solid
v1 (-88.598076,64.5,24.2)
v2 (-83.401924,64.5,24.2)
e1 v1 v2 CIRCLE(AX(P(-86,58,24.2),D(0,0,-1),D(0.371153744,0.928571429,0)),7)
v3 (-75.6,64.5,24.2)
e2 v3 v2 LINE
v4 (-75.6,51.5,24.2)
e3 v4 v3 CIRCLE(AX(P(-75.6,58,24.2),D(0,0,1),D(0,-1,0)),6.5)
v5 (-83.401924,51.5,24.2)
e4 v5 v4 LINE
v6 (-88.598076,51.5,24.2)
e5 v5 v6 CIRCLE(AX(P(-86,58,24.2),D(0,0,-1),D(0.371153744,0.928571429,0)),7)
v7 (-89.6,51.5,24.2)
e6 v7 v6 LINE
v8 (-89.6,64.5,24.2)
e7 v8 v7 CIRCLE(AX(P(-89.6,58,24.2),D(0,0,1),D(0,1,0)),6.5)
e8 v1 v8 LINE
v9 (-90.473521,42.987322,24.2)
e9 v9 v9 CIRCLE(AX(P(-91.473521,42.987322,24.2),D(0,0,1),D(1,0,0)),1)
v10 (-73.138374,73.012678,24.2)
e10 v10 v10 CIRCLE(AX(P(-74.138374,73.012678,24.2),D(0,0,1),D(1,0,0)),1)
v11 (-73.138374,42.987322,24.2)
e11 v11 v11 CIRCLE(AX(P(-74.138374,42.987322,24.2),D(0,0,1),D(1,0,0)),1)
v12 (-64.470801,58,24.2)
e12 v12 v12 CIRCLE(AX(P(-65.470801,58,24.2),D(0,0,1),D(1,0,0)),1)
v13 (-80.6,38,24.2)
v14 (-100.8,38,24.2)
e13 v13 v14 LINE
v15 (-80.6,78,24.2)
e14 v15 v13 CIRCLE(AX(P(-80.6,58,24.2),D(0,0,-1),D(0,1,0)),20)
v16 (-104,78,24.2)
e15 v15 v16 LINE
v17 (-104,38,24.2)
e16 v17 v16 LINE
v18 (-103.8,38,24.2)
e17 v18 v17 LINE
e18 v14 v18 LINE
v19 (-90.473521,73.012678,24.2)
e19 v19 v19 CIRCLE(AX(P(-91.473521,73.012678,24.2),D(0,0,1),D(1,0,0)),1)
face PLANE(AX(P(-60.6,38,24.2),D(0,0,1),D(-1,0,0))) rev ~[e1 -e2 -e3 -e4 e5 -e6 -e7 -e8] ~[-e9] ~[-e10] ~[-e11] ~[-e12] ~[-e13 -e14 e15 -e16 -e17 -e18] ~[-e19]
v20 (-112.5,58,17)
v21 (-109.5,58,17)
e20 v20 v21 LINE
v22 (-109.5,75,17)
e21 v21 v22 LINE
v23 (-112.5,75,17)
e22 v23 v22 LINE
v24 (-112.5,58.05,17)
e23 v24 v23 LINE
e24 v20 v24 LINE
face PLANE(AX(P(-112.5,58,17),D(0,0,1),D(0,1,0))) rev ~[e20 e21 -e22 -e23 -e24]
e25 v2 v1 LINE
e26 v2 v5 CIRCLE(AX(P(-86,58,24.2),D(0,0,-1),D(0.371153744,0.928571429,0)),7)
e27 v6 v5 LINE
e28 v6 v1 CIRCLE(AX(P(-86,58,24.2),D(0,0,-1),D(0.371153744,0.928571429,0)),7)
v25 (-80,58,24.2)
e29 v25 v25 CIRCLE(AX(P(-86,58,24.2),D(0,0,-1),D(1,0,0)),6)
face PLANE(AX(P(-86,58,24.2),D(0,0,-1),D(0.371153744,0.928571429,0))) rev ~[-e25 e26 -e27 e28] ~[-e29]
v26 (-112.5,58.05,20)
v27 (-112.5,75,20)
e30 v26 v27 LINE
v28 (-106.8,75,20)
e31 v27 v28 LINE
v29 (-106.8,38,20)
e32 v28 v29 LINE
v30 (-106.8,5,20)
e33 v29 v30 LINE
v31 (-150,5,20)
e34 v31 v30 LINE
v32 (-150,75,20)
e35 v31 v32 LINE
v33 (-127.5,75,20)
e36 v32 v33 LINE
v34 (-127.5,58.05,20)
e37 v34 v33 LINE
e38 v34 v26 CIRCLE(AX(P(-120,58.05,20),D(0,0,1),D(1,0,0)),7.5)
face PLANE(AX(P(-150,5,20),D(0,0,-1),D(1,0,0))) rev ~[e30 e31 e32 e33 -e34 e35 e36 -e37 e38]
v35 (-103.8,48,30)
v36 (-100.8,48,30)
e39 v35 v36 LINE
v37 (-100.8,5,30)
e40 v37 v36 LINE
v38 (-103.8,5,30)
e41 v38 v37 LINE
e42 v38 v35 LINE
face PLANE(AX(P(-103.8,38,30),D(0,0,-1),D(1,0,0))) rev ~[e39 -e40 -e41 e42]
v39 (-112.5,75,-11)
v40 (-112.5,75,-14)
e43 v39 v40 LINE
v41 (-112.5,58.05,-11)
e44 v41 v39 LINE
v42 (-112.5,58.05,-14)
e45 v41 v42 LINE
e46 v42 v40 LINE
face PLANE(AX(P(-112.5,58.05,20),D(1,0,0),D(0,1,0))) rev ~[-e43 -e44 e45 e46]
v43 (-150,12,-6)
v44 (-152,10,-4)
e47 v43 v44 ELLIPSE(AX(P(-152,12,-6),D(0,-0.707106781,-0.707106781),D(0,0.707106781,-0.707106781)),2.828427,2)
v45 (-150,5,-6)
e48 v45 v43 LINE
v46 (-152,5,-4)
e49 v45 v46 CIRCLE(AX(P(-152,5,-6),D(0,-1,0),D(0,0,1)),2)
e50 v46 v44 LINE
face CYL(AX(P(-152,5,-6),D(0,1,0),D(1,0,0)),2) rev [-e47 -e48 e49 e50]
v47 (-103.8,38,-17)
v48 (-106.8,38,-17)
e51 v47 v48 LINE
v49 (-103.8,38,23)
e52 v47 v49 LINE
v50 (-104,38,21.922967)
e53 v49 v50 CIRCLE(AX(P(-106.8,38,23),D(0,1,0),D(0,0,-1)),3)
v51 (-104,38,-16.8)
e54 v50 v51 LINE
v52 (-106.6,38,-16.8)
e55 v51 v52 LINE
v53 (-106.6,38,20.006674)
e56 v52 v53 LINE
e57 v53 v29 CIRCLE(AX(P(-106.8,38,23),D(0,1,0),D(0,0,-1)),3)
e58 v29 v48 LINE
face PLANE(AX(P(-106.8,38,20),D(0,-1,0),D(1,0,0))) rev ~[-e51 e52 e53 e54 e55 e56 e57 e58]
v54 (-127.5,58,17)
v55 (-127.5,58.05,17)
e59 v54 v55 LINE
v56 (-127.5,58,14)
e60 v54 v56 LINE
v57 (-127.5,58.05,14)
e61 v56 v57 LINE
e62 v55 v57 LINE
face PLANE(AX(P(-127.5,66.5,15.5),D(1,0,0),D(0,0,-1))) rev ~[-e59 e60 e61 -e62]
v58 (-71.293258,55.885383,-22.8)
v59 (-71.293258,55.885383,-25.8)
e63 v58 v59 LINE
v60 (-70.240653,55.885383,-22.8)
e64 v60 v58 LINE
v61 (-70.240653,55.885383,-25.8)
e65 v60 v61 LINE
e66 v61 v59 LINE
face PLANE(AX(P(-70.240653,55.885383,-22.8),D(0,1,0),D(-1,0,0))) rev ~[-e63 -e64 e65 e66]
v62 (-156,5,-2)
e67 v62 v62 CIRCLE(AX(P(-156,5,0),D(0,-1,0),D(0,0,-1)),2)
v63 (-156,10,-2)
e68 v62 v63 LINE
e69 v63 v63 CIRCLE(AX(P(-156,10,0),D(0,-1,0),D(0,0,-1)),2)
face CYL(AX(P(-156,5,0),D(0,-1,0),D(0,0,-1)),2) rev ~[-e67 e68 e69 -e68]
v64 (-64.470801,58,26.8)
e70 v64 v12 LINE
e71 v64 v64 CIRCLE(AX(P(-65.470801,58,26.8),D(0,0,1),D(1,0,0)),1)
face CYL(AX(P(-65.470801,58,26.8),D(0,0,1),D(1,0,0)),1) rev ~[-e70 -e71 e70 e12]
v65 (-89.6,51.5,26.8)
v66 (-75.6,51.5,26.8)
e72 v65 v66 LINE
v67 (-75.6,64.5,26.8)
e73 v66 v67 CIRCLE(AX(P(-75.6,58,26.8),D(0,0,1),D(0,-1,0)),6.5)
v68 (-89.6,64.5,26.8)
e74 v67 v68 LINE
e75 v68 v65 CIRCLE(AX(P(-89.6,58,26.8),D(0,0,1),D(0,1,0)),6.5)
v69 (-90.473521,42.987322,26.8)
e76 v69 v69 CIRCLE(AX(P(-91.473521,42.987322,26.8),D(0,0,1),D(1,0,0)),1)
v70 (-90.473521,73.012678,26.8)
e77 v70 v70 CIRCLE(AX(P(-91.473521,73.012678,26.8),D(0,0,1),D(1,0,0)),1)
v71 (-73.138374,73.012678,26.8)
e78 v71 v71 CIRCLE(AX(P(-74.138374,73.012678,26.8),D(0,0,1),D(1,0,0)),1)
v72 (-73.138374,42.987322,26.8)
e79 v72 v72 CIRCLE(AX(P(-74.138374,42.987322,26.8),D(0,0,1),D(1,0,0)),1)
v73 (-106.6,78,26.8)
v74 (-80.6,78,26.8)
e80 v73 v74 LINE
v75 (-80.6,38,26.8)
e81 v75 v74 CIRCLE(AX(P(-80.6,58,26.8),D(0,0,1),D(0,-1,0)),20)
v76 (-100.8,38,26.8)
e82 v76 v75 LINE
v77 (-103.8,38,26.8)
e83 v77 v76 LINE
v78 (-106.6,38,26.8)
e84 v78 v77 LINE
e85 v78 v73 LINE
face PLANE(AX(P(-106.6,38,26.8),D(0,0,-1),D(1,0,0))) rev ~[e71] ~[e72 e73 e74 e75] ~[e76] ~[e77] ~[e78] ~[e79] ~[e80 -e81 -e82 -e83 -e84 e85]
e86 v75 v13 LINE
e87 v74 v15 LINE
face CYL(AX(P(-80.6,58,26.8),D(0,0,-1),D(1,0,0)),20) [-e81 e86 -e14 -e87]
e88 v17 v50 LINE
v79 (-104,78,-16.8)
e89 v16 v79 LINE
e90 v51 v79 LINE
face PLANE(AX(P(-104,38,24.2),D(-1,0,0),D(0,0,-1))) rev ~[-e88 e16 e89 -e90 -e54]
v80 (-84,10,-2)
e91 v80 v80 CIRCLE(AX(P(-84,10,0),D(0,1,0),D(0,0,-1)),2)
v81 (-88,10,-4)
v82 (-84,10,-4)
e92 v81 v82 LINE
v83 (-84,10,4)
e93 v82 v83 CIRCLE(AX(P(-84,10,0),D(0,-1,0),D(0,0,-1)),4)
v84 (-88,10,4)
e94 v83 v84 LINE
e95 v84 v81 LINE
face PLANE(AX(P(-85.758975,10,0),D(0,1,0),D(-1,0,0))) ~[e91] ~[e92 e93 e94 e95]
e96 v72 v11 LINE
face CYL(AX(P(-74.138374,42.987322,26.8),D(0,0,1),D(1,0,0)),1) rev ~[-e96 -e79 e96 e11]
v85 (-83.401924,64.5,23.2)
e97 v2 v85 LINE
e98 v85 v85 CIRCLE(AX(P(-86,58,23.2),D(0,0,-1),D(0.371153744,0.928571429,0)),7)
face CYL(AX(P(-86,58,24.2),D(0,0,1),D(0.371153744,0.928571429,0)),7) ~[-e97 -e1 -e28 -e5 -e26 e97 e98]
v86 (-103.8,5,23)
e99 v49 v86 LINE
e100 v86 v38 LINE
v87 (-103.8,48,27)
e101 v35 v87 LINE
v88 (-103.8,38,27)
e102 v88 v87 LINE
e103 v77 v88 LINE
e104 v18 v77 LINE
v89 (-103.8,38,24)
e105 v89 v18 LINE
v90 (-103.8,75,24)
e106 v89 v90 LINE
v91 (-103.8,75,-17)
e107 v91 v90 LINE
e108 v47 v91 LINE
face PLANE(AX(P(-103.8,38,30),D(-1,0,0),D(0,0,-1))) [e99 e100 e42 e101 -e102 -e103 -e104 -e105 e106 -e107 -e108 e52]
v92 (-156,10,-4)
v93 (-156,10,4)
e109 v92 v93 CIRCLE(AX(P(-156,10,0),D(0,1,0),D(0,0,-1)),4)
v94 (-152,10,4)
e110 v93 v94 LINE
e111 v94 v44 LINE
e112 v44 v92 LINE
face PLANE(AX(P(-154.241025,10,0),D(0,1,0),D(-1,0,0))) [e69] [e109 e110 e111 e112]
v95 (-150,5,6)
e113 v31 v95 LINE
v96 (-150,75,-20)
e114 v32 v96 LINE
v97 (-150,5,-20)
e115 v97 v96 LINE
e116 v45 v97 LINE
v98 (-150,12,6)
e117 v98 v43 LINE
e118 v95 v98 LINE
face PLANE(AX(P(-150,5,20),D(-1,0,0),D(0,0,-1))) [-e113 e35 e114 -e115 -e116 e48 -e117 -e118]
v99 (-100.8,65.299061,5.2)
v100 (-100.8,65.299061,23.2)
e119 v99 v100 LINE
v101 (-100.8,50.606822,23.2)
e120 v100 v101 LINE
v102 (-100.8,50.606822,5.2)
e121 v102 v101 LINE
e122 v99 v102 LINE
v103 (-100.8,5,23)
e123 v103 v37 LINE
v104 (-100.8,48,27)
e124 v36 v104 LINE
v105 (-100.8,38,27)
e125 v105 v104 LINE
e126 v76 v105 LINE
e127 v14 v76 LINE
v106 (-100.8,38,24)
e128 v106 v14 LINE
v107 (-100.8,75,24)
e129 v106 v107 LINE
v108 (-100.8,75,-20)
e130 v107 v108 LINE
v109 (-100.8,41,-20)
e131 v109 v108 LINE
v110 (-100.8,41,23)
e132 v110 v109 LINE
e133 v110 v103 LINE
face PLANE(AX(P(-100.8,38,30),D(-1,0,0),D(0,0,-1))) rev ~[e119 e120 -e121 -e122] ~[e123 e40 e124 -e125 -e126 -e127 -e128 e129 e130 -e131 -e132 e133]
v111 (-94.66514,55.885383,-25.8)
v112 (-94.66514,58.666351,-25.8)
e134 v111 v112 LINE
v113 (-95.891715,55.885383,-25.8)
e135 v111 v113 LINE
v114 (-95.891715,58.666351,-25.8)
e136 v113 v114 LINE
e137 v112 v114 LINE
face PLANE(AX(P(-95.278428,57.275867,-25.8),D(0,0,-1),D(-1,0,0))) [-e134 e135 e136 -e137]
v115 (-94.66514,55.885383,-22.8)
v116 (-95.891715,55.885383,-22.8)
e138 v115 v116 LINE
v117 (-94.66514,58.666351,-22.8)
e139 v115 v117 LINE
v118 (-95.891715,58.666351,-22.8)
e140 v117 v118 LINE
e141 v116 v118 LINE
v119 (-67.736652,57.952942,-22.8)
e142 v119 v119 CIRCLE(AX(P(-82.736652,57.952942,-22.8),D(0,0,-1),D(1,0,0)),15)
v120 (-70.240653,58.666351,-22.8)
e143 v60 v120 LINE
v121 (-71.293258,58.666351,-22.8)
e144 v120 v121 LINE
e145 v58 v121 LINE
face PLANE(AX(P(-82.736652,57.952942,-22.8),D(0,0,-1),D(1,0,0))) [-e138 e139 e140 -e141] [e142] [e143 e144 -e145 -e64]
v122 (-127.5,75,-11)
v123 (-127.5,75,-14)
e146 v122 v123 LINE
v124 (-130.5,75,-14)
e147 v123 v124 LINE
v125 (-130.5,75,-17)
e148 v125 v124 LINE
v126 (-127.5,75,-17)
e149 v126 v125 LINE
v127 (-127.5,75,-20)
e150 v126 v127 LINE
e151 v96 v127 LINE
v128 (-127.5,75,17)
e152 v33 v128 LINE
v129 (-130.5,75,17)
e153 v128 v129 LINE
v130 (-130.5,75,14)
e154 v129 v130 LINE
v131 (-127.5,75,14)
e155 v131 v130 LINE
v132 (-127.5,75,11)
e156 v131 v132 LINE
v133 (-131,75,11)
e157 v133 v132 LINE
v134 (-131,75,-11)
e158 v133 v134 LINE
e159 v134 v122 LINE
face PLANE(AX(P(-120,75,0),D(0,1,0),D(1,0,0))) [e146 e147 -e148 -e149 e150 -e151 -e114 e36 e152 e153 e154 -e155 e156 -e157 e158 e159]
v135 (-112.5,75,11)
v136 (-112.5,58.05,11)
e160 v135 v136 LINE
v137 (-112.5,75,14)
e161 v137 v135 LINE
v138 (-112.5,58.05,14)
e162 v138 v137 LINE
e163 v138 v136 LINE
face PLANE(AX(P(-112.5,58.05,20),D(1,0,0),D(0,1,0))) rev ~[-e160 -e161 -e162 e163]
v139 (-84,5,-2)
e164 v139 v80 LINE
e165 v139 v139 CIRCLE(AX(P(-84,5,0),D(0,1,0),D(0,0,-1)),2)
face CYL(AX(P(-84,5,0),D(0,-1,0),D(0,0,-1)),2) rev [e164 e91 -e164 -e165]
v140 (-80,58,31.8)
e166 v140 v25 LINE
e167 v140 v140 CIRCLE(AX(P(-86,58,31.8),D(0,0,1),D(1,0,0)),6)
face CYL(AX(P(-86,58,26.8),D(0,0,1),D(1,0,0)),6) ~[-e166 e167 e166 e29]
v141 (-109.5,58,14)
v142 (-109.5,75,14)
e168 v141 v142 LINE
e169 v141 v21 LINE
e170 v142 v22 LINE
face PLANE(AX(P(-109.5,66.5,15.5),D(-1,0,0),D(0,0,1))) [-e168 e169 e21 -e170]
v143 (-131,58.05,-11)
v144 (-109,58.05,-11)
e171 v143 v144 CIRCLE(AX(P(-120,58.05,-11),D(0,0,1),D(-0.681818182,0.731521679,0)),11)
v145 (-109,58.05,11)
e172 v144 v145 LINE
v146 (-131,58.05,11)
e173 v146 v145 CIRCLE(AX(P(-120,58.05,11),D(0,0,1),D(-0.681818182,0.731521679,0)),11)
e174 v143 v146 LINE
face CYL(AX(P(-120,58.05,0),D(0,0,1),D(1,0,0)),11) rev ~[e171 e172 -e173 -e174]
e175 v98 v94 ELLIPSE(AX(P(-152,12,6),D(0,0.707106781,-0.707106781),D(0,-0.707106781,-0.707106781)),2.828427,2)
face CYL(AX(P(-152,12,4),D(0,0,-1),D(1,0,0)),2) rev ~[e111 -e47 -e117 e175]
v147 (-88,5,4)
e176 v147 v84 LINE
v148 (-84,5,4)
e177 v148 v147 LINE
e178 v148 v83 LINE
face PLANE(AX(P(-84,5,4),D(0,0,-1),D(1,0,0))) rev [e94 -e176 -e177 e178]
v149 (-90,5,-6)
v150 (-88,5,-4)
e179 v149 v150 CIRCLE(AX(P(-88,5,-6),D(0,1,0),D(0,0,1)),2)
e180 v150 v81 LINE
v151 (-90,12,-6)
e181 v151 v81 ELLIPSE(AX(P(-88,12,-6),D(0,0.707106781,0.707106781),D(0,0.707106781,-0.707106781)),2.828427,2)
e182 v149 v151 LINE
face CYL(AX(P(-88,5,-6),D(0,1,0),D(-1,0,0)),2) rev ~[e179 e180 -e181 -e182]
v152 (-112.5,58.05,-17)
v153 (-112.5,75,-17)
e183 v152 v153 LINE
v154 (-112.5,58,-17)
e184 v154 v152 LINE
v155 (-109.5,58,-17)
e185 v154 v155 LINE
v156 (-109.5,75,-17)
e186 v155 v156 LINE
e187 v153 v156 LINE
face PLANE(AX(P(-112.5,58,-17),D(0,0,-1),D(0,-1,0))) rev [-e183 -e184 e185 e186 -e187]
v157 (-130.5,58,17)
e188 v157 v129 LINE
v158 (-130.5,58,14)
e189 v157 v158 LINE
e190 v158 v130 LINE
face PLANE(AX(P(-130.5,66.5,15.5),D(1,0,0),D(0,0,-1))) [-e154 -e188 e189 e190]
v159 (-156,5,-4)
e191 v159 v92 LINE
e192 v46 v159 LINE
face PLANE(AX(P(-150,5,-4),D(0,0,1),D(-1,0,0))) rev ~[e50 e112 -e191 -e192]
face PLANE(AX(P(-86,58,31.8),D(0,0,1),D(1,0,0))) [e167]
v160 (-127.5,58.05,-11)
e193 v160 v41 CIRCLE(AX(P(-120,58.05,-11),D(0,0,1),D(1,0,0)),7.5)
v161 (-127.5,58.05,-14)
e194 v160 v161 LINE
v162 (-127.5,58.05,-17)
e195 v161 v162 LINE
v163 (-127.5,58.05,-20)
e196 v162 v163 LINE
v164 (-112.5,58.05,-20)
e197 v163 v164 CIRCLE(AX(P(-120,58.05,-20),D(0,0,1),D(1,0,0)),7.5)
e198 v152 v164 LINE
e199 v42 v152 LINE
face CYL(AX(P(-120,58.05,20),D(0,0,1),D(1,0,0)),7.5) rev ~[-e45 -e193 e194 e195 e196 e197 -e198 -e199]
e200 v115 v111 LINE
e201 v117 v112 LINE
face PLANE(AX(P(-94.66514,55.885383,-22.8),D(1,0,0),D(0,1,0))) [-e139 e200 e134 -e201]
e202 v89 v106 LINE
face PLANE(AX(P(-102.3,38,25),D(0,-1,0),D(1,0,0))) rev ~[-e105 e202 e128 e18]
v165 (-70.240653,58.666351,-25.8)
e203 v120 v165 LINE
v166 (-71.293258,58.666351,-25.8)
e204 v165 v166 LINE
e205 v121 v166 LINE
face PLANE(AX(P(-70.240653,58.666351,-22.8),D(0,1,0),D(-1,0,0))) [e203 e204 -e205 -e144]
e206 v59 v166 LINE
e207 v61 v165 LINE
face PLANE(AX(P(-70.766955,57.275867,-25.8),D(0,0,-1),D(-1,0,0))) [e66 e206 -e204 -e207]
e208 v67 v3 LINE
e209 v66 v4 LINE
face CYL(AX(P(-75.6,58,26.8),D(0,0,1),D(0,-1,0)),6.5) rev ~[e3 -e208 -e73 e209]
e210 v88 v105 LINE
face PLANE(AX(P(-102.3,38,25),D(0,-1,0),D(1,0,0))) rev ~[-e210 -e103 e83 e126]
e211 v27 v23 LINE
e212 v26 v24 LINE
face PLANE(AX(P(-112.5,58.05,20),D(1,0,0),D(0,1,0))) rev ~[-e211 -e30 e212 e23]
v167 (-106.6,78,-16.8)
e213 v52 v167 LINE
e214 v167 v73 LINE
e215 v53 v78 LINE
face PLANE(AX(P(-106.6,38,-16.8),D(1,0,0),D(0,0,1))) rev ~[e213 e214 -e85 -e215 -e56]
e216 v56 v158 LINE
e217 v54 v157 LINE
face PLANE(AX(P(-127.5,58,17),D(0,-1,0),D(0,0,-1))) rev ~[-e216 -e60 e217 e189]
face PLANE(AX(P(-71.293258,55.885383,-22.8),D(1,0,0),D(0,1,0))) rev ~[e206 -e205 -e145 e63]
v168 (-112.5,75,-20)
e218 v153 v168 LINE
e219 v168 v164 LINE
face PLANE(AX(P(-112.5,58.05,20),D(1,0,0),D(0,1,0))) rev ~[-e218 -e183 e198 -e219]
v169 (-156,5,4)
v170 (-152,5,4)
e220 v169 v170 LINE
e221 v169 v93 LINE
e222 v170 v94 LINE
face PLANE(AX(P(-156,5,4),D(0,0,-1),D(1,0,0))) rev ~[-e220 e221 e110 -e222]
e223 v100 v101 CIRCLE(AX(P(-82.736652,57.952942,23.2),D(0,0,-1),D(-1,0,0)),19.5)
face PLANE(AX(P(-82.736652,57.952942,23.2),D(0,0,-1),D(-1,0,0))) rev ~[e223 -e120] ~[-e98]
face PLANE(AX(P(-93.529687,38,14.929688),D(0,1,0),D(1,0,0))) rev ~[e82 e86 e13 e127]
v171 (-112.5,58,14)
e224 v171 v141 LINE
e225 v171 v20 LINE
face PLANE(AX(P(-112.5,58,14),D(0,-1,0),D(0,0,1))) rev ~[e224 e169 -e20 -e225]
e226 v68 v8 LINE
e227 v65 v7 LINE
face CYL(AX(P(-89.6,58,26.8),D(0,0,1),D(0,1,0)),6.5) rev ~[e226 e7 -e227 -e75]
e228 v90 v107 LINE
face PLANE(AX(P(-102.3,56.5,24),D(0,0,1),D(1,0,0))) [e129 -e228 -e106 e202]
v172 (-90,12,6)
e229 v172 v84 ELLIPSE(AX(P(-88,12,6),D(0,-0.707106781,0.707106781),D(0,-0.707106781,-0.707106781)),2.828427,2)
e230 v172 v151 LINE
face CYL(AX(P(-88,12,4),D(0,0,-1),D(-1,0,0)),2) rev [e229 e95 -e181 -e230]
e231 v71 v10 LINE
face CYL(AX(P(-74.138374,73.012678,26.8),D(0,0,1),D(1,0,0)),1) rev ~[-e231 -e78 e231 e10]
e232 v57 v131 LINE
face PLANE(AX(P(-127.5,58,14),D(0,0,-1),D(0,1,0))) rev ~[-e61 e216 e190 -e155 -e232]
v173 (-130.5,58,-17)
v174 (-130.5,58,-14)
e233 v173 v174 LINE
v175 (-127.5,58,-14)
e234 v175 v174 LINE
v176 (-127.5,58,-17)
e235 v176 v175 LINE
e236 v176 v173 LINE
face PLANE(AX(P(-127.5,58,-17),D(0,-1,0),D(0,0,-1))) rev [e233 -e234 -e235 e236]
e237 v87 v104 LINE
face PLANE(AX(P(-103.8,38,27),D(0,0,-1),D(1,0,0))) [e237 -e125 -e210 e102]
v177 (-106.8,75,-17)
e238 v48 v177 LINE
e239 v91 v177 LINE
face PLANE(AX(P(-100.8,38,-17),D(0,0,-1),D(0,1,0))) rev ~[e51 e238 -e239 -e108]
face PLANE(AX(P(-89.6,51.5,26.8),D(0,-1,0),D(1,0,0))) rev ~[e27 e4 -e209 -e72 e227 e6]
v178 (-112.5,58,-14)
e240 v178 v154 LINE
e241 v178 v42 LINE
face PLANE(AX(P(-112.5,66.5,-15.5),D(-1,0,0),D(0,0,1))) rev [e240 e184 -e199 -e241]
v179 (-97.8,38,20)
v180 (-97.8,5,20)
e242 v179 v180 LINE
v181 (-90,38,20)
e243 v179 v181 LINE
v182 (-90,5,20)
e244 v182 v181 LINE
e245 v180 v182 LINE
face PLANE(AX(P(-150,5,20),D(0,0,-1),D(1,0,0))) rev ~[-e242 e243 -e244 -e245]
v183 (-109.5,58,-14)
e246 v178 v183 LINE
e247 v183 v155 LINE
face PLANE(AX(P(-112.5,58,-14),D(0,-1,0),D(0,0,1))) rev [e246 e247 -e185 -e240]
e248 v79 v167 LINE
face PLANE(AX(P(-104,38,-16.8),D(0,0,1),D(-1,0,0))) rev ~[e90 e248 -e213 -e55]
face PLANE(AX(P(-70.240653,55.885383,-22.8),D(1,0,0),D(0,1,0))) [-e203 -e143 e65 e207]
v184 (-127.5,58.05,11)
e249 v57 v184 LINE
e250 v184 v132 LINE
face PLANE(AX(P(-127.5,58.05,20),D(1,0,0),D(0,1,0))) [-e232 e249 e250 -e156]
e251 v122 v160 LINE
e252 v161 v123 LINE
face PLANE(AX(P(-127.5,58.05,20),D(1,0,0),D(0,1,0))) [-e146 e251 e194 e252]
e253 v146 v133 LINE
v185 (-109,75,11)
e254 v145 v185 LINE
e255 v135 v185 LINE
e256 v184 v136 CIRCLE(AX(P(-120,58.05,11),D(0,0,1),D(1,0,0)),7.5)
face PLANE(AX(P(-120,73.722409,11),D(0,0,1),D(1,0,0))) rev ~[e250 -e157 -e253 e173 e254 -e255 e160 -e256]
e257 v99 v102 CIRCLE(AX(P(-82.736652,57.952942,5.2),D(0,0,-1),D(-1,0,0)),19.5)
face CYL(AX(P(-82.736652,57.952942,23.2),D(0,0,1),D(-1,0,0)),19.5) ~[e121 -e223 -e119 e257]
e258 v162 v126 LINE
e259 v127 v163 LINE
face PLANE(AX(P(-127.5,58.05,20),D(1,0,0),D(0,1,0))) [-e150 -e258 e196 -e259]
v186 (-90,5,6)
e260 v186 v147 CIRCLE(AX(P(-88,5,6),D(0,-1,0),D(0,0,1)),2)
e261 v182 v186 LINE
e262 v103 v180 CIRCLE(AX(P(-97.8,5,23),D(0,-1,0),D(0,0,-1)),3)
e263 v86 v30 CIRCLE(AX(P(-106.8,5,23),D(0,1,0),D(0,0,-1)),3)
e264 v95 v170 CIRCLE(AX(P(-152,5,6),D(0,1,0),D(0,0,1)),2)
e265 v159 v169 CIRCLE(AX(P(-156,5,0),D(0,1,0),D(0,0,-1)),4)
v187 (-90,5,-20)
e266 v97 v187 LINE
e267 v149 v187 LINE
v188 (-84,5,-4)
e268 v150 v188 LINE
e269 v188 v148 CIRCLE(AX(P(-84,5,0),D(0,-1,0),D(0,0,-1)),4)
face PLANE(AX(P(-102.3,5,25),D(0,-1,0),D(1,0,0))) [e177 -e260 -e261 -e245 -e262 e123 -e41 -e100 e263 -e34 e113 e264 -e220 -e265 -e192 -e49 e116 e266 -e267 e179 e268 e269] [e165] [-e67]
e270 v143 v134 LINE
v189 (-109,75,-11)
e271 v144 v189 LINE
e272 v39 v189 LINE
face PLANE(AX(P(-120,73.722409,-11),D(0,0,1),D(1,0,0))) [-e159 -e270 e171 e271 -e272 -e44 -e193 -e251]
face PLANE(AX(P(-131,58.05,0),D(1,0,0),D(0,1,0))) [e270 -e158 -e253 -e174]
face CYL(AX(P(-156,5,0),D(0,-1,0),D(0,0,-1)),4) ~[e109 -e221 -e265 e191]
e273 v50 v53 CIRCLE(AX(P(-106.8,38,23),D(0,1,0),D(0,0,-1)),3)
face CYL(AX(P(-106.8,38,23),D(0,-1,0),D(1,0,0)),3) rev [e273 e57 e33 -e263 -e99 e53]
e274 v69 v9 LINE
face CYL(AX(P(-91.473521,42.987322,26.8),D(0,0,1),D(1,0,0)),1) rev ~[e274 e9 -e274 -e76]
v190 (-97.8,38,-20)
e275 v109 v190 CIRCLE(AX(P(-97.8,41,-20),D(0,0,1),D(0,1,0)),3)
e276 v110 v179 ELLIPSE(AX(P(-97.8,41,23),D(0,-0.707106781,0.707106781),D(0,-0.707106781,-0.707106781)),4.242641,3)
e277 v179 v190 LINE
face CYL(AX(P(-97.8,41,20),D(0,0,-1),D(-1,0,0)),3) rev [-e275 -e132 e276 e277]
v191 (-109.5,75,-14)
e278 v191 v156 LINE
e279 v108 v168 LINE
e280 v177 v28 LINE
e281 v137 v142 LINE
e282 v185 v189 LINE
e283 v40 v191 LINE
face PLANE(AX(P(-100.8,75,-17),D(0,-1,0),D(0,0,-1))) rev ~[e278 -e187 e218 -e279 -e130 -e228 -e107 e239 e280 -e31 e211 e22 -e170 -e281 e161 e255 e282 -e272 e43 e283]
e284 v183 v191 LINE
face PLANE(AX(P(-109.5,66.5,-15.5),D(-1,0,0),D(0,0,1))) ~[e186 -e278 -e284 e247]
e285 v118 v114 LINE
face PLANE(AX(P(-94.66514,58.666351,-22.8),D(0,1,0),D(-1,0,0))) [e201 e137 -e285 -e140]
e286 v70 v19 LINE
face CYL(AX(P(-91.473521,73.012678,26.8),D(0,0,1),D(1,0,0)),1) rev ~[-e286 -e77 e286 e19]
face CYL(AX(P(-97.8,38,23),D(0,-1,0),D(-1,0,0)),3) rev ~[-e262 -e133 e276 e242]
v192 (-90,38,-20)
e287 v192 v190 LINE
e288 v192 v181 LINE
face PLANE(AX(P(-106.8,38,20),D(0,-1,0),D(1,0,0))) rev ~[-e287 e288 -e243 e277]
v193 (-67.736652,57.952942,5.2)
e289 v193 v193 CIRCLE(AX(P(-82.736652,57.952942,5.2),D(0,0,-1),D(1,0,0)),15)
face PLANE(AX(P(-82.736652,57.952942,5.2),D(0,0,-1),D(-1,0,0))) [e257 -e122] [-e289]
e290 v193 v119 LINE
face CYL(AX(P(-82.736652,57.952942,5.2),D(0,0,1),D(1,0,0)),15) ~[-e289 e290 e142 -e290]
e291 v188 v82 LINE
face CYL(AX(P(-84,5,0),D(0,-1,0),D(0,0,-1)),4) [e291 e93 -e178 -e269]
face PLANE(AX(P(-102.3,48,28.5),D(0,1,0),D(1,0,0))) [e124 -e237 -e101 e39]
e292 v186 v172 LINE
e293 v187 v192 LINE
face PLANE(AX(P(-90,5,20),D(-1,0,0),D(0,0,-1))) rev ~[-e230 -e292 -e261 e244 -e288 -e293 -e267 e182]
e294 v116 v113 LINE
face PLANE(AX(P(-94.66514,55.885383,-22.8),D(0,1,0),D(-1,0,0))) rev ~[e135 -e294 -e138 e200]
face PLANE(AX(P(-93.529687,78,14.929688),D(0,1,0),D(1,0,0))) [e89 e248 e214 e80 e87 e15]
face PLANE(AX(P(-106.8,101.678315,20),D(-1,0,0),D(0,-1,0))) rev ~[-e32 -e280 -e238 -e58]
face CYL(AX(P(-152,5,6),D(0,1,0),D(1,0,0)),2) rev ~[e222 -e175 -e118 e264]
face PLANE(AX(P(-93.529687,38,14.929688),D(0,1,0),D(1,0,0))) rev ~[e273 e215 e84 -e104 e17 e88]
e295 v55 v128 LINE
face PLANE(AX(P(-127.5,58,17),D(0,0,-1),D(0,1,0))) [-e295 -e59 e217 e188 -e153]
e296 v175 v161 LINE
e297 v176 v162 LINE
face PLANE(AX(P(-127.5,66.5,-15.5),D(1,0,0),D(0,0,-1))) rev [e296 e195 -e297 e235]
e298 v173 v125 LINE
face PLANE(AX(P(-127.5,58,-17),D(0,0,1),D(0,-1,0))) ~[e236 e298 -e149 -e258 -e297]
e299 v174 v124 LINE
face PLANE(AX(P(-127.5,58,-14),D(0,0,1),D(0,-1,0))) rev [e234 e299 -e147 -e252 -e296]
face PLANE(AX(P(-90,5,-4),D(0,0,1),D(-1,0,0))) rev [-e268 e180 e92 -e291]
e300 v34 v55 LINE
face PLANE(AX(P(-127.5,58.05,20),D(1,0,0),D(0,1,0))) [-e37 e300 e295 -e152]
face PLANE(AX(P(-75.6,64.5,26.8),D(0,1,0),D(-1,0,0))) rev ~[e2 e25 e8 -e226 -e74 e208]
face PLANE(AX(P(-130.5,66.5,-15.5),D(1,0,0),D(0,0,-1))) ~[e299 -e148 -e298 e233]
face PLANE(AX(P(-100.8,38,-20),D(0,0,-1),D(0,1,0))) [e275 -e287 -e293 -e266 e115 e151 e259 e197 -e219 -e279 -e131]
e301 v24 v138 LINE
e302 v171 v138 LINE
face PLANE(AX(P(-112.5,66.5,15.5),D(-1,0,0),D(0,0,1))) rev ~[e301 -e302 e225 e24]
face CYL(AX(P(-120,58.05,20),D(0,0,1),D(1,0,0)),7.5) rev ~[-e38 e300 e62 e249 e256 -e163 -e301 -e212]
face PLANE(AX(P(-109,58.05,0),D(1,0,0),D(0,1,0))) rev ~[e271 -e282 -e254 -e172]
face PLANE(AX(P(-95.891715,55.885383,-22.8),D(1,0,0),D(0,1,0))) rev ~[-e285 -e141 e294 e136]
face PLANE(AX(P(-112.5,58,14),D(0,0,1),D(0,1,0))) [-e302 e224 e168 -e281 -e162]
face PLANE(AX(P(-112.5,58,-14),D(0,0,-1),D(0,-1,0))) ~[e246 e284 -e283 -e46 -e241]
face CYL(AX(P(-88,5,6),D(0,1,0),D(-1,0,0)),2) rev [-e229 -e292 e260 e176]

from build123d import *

# Parameters (mm, degrees)
SKETCH1_W       = 60
SKETCH1_H       = 40
EXTRUDE1_DEPTH  = 70
EXTRUDE2_DEPTH  = 173.409396496
SKETCH5_R       = 7.5
EXTRUDE3_DEPTH  = 173.409396496
SKETCH8_R       = 11
EXTRUDE5_DEPTH  = 11
SKETCH9_W       = 15
SKETCH9_H       = 16.95
EXTRUDE6_DEPTH  = 173.409396496
SKETCH10_W      = 22
SKETCH10_H      = 31.344818361
EXTRUDE7_DEPTH  = 11
SKETCH13_W      = 3
SKETCH13_H      = 17
EXTRUDE9_DEPTH  = 3
SKETCH14_W      = 3
SKETCH14_H      = 17
EXTRUDE10_DEPTH = 3
SKETCH16_W      = 3
SKETCH16_H      = 37
EXTRUDE11_DEPTH = 41
SKETCH17_W      = 3
SKETCH17_H      = 37
EXTRUDE12_DEPTH = 6
SKETCH18_W      = 3
SKETCH18_H      = 10
EXTRUDE13_DEPTH = 33
SKETCH19_W      = 3
SKETCH19_H      = 3
EXTRUDE14_DEPTH = 10
FILLET1_R       = 3
SKETCH20_R      = 2
EXTRUDE15_DEPTH = 5
FILLET2_R       = 2
FILLET3_R       = 2
EXTRUDE16_DEPTH = 40
FILLET4_RADIUS  = 20
FILLET4_LENGTH  = 2.6
EXTRUDE17_DEPTH = 2.6
SKETCH24_R      = 1
EXTRUDE18_DEPTH = 2.6
SKETCH25_R      = 2.5
EXTRUDE19_DEPTH = 2.6
SKETCH26_R      = 6
EXTRUDE20_DEPTH = 5
SKETCH27_R      = 6
EXTRUDE21_DEPTH = 2.6
SKETCH28_R      = 7
EXTRUDE22_DEPTH = 1
SKETCH29_R      = 19.5
EXTRUDE23_DEPTH = 18
SKETCH30_R      = 15
EXTRUDE24_DEPTH = 28
SKETCH31_W      = 1.052605107
SKETCH31_H      = 2.780967683
SKETCH31_W_2    = 1.226574425
EXTRUDE25_DEPTH = 3


with BuildPart() as part:
    # Sketch1 → Extrude1 (new body)
    with BuildSketch(Plane(origin=(0, 5, 0), x_dir=(1, 0, 0), z_dir=(0, 1, 0))):
        with Locations((-120, 0)):
            Rectangle(SKETCH1_W, SKETCH1_H)
    extrude(amount=EXTRUDE1_DEPTH)

    # Sketch4 → Extrude2 (cut, through all)
    with BuildSketch(Plane.XY.offset(20)):
        Polygon((-106.8, 75), (-106.8, 38), (-69.340811885, 38), (-69.340811885, 101.678315396), (-106.8, 101.678315396), align=None)
    extrude(amount=-EXTRUDE2_DEPTH, mode=Mode.SUBTRACT)

    # Sketch5 → Extrude3 (cut, through all)
    with BuildSketch(Plane.XY.offset(20)):
        with Locations((-120, 58.05)):
            Circle(SKETCH5_R)
    extrude(amount=-EXTRUDE3_DEPTH, mode=Mode.SUBTRACT)

    # Sketch8 → Extrude5 (cut, symmetric)
    with BuildSketch(Plane.XY):
        with Locations((-120, 58.05)):
            Circle(SKETCH8_R)
    extrude(amount=EXTRUDE5_DEPTH, both=True, mode=Mode.SUBTRACT)

    # Sketch9 → Extrude6 (cut, through all)
    with BuildSketch(Plane.XY.offset(20)):
        with Locations((-120, 66.525)):
            Rectangle(SKETCH9_W, SKETCH9_H)
    extrude(amount=-EXTRUDE6_DEPTH, mode=Mode.SUBTRACT)

    # Sketch10 → Extrude7 (cut, symmetric)
    with BuildSketch(Plane.XY):
        with Locations((-120, 73.722409181)):
            Rectangle(SKETCH10_W, SKETCH10_H)
    extrude(amount=EXTRUDE7_DEPTH, both=True, mode=Mode.SUBTRACT)

    # Sketch13 → Extrude9 (cut)
    with BuildSketch(Plane(origin=(-127.5, 0, 0), x_dir=(0, 0, -1), z_dir=(1, 0, 0))):
        with Locations((-15.5, 66.5)):
            Rectangle(SKETCH13_W, SKETCH13_H)
    extrude9 = extrude(amount=-EXTRUDE9_DEPTH, mode=Mode.SUBTRACT)

    # Sketch14 → Extrude10 (cut)
    with BuildSketch(Plane.ZY.offset(112.5)):
        with Locations((15.5, 66.5)):
            Rectangle(SKETCH14_W, SKETCH14_H)
    extrude10 = extrude(amount=-EXTRUDE10_DEPTH, mode=Mode.SUBTRACT)

    # Mirror1: Extrude9, Extrude10 across plane
    add(extrude9.mirror(Plane.XY), mode=Mode.SUBTRACT)
    add(extrude10.mirror(Plane.XY), mode=Mode.SUBTRACT)

    # Sketch16 → Extrude11 (add)
    with BuildSketch(Plane.XY.offset(-17)):
        with Locations((-102.3, 56.5)):
            Rectangle(SKETCH16_W, SKETCH16_H)
    extrude(amount=EXTRUDE11_DEPTH)

    # Sketch17 → Extrude12 (add)
    with BuildSketch(Plane(origin=(-100.8, 0, 0), x_dir=(0, 0, -1), z_dir=(1, 0, 0))):
        with Locations((18.5, 56.5)):
            Rectangle(SKETCH17_W, SKETCH17_H)
    extrude(amount=-EXTRUDE12_DEPTH)

    # Sketch18 → Extrude13 (add)
    with BuildSketch(Plane.XZ.offset(-38)):
        with Locations((-102.3, 25)):
            Rectangle(SKETCH18_W, SKETCH18_H)
    extrude(amount=EXTRUDE13_DEPTH)

    # Sketch19 → Extrude14 (add)
    with BuildSketch(Plane(origin=(0, 38, 0), x_dir=(1, 0, 0), z_dir=(0, 1, 0))):
        with Locations((-102.3, -28.5)):
            Rectangle(SKETCH19_W, SKETCH19_H)
    extrude(amount=EXTRUDE14_DEPTH)

    # Fillet1
    fillet1_edges = [part.edges().sort_by_distance(p)[0] for p in [
        (-100.8, 38, 0),
        (-100.8, 21.5, 20),
        (-103.8, 21.5, 20),
    ]]
    fillet(fillet1_edges, radius=FILLET1_R)

    # Sketch20 → Extrude15 (add)
    with BuildSketch(Plane.XZ.offset(-5)):
        with BuildLine():
            Line((-156, 4), (-150, 4))
            Line((-150, 4), (-150, -4))
            Line((-150, -4), (-156, -4))
            ThreePointArc((-156, -4), (-160, 0), (-156, 4))
        make_face()
        with Locations(Location((-156, 0, 0), (0, 0, 270))):
            Circle(SKETCH20_R, mode=Mode.SUBTRACT)
    extrude15 = extrude(amount=-EXTRUDE15_DEPTH)

    # Fillet2
    fillet2_edges = [part.edges().sort_by_distance(p)[0] for p in [
        (-150, 10, 0),
        (-150, 7.5, 4),
        (-150, 7.5, -4),
    ]]
    fillet(fillet2_edges, radius=FILLET2_R)

    # Mirror7: Extrude15 across plane
    add(extrude15.mirror(Plane.ZY.offset(120)))

    # Fillet3
    fillet3_edges = [part.edges().sort_by_distance(p)[0] for p in [
        (-90, 10, 0),
        (-90, 7.5, -4),
        (-90, 7.5, 4),
    ]]
    fillet(fillet3_edges, radius=FILLET3_R)

    # Sketch21 → Extrude16 (add)
    with BuildSketch(Plane(origin=(0, 38, 0), x_dir=(1, 0, 0), z_dir=(0, 1, 0))):
        Polygon((-104, -21.450806662), (-104, 16.8), (-106.6, 16.8), (-106.6, -19.806256115), (-106.6, -26.8), (-103.6, -26.8), (-101, -26.8), (-60.6, -26.8), (-60.6, -24.2), (-101, -24.2), (-103.6, -24.2), (-104, -24.2), align=None)
    extrude(amount=EXTRUDE16_DEPTH)

    # Fillet4: full round fillet: the end face becomes a half cylinder, R = half its width
    fillet4_face = Plane((-60.6, 58, 25.5), x_dir=(0, 0, -1), z_dir=(1, 0, 0))  # on the end face: x along it, z out of the body
    fillet4_slab = fillet4_face.offset(-FILLET4_RADIUS / 2) * Box(FILLET4_LENGTH, 2 * FILLET4_RADIUS, FILLET4_RADIUS, mode=Mode.PRIVATE)  # the body's end, R deep
    fillet4_round = Plane((-80.6, 58, 25.5), x_dir=(1, 0, 0), z_dir=(0, 0, -1)) * Cylinder(FILLET4_RADIUS, FILLET4_LENGTH, mode=Mode.PRIVATE)  # its axis R under the face
    add(fillet4_slab - fillet4_round, mode=Mode.SUBTRACT)

    # Sketch22 → Extrude17 (cut)
    with BuildSketch(Plane.XY.offset(26.8)):
        with BuildLine():
            Line((-89.6, 51.5), (-75.6, 51.5))
            ThreePointArc((-75.6, 51.5), (-69.1, 58), (-75.6, 64.5))
            Line((-75.6, 64.5), (-89.6, 64.5))
            ThreePointArc((-89.6, 64.5), (-96.1, 58), (-89.6, 51.5))
        make_face()
    extrude(amount=-EXTRUDE17_DEPTH, mode=Mode.SUBTRACT)

    # Sketch24 → Extrude18 (cut)
    with BuildSketch(Plane.XY.offset(26.8)):
        with Locations((-65.470800536, 58)):
            Circle(SKETCH24_R)
        with Locations((-74.138374008, 42.987322368)):
            Circle(SKETCH24_R)
        with Locations((-91.473520952, 42.987322368)):
            Circle(SKETCH24_R)
        with Locations((-100.141094423, 58)):
            Circle(SKETCH24_R)
        with Locations((-91.473520952, 73.012677632)):
            Circle(SKETCH24_R)
        with Locations((-74.138374008, 73.012677632)):
            Circle(SKETCH24_R)
    extrude(amount=-EXTRUDE18_DEPTH, mode=Mode.SUBTRACT)

    # Sketch25 → Extrude19 (add)
    with BuildSketch(Plane.XY.offset(26.8)):
        with Locations((-100.141094423, 58)):
            Circle(SKETCH25_R)
    extrude(amount=-EXTRUDE19_DEPTH)



with BuildPart() as body_2:
    # Sketch26 → Extrude20 (new body)
    with BuildSketch(Plane.XY.offset(26.8)):
        with Locations((-86, 58)):
            Circle(SKETCH26_R)
    extrude(amount=EXTRUDE20_DEPTH)

    # Sketch27 → Extrude21 (add)
    with BuildSketch(Plane(origin=(0, 0, 26.8), x_dir=(-1, 0, 0), z_dir=(0, 0, -1))):
        with Locations(Location((86, 58, 0), (0, 0, 180))):
            Circle(SKETCH27_R)
    extrude(amount=EXTRUDE21_DEPTH)


with BuildPart() as part_1:
    add(part.part)

    add(body_2.part)  # Extrude22 merges body 2
    # Sketch28 → Extrude22 (add)
    with BuildSketch(Plane(origin=(0, 0, 24.2), x_dir=(-1, 0, 0), z_dir=(0, 0, -1))):
        with Locations(Location((86, 58, 0), (0, 0, 111.786789298))):
            Circle(SKETCH28_R)
    extrude(amount=EXTRUDE22_DEPTH)

    # Sketch29 → Extrude23 (add)
    with BuildSketch(Plane(origin=(0, 0, 23.2), x_dir=(-1, 0, 0), z_dir=(0, 0, -1))):
        with Locations((82.736652481, 57.95294162)):
            Circle(SKETCH29_R)
    extrude(amount=EXTRUDE23_DEPTH)

    # Sketch30 → Extrude24 (add)
    with BuildSketch(Plane(origin=(0, 0, 5.2), x_dir=(-1, 0, 0), z_dir=(0, 0, -1))):
        with Locations(Location((82.736652481, 57.95294162, 0), (0, 0, 180))):
            Circle(SKETCH30_R)
    extrude(amount=EXTRUDE24_DEPTH)

    # Sketch31 → Extrude25 (add)
    with BuildSketch(Plane(origin=(0, 0, -22.8), x_dir=(-1, 0, 0), z_dir=(0, 0, -1))):
        with Locations((70.766955126, 57.275867088)):
            Rectangle(SKETCH31_W, SKETCH31_H)
        with Locations((95.278427538, 57.275867088)):
            Rectangle(SKETCH31_W_2, SKETCH31_H)
    extrude(amount=EXTRUDE25_DEPTH)


solid = part_1.part
